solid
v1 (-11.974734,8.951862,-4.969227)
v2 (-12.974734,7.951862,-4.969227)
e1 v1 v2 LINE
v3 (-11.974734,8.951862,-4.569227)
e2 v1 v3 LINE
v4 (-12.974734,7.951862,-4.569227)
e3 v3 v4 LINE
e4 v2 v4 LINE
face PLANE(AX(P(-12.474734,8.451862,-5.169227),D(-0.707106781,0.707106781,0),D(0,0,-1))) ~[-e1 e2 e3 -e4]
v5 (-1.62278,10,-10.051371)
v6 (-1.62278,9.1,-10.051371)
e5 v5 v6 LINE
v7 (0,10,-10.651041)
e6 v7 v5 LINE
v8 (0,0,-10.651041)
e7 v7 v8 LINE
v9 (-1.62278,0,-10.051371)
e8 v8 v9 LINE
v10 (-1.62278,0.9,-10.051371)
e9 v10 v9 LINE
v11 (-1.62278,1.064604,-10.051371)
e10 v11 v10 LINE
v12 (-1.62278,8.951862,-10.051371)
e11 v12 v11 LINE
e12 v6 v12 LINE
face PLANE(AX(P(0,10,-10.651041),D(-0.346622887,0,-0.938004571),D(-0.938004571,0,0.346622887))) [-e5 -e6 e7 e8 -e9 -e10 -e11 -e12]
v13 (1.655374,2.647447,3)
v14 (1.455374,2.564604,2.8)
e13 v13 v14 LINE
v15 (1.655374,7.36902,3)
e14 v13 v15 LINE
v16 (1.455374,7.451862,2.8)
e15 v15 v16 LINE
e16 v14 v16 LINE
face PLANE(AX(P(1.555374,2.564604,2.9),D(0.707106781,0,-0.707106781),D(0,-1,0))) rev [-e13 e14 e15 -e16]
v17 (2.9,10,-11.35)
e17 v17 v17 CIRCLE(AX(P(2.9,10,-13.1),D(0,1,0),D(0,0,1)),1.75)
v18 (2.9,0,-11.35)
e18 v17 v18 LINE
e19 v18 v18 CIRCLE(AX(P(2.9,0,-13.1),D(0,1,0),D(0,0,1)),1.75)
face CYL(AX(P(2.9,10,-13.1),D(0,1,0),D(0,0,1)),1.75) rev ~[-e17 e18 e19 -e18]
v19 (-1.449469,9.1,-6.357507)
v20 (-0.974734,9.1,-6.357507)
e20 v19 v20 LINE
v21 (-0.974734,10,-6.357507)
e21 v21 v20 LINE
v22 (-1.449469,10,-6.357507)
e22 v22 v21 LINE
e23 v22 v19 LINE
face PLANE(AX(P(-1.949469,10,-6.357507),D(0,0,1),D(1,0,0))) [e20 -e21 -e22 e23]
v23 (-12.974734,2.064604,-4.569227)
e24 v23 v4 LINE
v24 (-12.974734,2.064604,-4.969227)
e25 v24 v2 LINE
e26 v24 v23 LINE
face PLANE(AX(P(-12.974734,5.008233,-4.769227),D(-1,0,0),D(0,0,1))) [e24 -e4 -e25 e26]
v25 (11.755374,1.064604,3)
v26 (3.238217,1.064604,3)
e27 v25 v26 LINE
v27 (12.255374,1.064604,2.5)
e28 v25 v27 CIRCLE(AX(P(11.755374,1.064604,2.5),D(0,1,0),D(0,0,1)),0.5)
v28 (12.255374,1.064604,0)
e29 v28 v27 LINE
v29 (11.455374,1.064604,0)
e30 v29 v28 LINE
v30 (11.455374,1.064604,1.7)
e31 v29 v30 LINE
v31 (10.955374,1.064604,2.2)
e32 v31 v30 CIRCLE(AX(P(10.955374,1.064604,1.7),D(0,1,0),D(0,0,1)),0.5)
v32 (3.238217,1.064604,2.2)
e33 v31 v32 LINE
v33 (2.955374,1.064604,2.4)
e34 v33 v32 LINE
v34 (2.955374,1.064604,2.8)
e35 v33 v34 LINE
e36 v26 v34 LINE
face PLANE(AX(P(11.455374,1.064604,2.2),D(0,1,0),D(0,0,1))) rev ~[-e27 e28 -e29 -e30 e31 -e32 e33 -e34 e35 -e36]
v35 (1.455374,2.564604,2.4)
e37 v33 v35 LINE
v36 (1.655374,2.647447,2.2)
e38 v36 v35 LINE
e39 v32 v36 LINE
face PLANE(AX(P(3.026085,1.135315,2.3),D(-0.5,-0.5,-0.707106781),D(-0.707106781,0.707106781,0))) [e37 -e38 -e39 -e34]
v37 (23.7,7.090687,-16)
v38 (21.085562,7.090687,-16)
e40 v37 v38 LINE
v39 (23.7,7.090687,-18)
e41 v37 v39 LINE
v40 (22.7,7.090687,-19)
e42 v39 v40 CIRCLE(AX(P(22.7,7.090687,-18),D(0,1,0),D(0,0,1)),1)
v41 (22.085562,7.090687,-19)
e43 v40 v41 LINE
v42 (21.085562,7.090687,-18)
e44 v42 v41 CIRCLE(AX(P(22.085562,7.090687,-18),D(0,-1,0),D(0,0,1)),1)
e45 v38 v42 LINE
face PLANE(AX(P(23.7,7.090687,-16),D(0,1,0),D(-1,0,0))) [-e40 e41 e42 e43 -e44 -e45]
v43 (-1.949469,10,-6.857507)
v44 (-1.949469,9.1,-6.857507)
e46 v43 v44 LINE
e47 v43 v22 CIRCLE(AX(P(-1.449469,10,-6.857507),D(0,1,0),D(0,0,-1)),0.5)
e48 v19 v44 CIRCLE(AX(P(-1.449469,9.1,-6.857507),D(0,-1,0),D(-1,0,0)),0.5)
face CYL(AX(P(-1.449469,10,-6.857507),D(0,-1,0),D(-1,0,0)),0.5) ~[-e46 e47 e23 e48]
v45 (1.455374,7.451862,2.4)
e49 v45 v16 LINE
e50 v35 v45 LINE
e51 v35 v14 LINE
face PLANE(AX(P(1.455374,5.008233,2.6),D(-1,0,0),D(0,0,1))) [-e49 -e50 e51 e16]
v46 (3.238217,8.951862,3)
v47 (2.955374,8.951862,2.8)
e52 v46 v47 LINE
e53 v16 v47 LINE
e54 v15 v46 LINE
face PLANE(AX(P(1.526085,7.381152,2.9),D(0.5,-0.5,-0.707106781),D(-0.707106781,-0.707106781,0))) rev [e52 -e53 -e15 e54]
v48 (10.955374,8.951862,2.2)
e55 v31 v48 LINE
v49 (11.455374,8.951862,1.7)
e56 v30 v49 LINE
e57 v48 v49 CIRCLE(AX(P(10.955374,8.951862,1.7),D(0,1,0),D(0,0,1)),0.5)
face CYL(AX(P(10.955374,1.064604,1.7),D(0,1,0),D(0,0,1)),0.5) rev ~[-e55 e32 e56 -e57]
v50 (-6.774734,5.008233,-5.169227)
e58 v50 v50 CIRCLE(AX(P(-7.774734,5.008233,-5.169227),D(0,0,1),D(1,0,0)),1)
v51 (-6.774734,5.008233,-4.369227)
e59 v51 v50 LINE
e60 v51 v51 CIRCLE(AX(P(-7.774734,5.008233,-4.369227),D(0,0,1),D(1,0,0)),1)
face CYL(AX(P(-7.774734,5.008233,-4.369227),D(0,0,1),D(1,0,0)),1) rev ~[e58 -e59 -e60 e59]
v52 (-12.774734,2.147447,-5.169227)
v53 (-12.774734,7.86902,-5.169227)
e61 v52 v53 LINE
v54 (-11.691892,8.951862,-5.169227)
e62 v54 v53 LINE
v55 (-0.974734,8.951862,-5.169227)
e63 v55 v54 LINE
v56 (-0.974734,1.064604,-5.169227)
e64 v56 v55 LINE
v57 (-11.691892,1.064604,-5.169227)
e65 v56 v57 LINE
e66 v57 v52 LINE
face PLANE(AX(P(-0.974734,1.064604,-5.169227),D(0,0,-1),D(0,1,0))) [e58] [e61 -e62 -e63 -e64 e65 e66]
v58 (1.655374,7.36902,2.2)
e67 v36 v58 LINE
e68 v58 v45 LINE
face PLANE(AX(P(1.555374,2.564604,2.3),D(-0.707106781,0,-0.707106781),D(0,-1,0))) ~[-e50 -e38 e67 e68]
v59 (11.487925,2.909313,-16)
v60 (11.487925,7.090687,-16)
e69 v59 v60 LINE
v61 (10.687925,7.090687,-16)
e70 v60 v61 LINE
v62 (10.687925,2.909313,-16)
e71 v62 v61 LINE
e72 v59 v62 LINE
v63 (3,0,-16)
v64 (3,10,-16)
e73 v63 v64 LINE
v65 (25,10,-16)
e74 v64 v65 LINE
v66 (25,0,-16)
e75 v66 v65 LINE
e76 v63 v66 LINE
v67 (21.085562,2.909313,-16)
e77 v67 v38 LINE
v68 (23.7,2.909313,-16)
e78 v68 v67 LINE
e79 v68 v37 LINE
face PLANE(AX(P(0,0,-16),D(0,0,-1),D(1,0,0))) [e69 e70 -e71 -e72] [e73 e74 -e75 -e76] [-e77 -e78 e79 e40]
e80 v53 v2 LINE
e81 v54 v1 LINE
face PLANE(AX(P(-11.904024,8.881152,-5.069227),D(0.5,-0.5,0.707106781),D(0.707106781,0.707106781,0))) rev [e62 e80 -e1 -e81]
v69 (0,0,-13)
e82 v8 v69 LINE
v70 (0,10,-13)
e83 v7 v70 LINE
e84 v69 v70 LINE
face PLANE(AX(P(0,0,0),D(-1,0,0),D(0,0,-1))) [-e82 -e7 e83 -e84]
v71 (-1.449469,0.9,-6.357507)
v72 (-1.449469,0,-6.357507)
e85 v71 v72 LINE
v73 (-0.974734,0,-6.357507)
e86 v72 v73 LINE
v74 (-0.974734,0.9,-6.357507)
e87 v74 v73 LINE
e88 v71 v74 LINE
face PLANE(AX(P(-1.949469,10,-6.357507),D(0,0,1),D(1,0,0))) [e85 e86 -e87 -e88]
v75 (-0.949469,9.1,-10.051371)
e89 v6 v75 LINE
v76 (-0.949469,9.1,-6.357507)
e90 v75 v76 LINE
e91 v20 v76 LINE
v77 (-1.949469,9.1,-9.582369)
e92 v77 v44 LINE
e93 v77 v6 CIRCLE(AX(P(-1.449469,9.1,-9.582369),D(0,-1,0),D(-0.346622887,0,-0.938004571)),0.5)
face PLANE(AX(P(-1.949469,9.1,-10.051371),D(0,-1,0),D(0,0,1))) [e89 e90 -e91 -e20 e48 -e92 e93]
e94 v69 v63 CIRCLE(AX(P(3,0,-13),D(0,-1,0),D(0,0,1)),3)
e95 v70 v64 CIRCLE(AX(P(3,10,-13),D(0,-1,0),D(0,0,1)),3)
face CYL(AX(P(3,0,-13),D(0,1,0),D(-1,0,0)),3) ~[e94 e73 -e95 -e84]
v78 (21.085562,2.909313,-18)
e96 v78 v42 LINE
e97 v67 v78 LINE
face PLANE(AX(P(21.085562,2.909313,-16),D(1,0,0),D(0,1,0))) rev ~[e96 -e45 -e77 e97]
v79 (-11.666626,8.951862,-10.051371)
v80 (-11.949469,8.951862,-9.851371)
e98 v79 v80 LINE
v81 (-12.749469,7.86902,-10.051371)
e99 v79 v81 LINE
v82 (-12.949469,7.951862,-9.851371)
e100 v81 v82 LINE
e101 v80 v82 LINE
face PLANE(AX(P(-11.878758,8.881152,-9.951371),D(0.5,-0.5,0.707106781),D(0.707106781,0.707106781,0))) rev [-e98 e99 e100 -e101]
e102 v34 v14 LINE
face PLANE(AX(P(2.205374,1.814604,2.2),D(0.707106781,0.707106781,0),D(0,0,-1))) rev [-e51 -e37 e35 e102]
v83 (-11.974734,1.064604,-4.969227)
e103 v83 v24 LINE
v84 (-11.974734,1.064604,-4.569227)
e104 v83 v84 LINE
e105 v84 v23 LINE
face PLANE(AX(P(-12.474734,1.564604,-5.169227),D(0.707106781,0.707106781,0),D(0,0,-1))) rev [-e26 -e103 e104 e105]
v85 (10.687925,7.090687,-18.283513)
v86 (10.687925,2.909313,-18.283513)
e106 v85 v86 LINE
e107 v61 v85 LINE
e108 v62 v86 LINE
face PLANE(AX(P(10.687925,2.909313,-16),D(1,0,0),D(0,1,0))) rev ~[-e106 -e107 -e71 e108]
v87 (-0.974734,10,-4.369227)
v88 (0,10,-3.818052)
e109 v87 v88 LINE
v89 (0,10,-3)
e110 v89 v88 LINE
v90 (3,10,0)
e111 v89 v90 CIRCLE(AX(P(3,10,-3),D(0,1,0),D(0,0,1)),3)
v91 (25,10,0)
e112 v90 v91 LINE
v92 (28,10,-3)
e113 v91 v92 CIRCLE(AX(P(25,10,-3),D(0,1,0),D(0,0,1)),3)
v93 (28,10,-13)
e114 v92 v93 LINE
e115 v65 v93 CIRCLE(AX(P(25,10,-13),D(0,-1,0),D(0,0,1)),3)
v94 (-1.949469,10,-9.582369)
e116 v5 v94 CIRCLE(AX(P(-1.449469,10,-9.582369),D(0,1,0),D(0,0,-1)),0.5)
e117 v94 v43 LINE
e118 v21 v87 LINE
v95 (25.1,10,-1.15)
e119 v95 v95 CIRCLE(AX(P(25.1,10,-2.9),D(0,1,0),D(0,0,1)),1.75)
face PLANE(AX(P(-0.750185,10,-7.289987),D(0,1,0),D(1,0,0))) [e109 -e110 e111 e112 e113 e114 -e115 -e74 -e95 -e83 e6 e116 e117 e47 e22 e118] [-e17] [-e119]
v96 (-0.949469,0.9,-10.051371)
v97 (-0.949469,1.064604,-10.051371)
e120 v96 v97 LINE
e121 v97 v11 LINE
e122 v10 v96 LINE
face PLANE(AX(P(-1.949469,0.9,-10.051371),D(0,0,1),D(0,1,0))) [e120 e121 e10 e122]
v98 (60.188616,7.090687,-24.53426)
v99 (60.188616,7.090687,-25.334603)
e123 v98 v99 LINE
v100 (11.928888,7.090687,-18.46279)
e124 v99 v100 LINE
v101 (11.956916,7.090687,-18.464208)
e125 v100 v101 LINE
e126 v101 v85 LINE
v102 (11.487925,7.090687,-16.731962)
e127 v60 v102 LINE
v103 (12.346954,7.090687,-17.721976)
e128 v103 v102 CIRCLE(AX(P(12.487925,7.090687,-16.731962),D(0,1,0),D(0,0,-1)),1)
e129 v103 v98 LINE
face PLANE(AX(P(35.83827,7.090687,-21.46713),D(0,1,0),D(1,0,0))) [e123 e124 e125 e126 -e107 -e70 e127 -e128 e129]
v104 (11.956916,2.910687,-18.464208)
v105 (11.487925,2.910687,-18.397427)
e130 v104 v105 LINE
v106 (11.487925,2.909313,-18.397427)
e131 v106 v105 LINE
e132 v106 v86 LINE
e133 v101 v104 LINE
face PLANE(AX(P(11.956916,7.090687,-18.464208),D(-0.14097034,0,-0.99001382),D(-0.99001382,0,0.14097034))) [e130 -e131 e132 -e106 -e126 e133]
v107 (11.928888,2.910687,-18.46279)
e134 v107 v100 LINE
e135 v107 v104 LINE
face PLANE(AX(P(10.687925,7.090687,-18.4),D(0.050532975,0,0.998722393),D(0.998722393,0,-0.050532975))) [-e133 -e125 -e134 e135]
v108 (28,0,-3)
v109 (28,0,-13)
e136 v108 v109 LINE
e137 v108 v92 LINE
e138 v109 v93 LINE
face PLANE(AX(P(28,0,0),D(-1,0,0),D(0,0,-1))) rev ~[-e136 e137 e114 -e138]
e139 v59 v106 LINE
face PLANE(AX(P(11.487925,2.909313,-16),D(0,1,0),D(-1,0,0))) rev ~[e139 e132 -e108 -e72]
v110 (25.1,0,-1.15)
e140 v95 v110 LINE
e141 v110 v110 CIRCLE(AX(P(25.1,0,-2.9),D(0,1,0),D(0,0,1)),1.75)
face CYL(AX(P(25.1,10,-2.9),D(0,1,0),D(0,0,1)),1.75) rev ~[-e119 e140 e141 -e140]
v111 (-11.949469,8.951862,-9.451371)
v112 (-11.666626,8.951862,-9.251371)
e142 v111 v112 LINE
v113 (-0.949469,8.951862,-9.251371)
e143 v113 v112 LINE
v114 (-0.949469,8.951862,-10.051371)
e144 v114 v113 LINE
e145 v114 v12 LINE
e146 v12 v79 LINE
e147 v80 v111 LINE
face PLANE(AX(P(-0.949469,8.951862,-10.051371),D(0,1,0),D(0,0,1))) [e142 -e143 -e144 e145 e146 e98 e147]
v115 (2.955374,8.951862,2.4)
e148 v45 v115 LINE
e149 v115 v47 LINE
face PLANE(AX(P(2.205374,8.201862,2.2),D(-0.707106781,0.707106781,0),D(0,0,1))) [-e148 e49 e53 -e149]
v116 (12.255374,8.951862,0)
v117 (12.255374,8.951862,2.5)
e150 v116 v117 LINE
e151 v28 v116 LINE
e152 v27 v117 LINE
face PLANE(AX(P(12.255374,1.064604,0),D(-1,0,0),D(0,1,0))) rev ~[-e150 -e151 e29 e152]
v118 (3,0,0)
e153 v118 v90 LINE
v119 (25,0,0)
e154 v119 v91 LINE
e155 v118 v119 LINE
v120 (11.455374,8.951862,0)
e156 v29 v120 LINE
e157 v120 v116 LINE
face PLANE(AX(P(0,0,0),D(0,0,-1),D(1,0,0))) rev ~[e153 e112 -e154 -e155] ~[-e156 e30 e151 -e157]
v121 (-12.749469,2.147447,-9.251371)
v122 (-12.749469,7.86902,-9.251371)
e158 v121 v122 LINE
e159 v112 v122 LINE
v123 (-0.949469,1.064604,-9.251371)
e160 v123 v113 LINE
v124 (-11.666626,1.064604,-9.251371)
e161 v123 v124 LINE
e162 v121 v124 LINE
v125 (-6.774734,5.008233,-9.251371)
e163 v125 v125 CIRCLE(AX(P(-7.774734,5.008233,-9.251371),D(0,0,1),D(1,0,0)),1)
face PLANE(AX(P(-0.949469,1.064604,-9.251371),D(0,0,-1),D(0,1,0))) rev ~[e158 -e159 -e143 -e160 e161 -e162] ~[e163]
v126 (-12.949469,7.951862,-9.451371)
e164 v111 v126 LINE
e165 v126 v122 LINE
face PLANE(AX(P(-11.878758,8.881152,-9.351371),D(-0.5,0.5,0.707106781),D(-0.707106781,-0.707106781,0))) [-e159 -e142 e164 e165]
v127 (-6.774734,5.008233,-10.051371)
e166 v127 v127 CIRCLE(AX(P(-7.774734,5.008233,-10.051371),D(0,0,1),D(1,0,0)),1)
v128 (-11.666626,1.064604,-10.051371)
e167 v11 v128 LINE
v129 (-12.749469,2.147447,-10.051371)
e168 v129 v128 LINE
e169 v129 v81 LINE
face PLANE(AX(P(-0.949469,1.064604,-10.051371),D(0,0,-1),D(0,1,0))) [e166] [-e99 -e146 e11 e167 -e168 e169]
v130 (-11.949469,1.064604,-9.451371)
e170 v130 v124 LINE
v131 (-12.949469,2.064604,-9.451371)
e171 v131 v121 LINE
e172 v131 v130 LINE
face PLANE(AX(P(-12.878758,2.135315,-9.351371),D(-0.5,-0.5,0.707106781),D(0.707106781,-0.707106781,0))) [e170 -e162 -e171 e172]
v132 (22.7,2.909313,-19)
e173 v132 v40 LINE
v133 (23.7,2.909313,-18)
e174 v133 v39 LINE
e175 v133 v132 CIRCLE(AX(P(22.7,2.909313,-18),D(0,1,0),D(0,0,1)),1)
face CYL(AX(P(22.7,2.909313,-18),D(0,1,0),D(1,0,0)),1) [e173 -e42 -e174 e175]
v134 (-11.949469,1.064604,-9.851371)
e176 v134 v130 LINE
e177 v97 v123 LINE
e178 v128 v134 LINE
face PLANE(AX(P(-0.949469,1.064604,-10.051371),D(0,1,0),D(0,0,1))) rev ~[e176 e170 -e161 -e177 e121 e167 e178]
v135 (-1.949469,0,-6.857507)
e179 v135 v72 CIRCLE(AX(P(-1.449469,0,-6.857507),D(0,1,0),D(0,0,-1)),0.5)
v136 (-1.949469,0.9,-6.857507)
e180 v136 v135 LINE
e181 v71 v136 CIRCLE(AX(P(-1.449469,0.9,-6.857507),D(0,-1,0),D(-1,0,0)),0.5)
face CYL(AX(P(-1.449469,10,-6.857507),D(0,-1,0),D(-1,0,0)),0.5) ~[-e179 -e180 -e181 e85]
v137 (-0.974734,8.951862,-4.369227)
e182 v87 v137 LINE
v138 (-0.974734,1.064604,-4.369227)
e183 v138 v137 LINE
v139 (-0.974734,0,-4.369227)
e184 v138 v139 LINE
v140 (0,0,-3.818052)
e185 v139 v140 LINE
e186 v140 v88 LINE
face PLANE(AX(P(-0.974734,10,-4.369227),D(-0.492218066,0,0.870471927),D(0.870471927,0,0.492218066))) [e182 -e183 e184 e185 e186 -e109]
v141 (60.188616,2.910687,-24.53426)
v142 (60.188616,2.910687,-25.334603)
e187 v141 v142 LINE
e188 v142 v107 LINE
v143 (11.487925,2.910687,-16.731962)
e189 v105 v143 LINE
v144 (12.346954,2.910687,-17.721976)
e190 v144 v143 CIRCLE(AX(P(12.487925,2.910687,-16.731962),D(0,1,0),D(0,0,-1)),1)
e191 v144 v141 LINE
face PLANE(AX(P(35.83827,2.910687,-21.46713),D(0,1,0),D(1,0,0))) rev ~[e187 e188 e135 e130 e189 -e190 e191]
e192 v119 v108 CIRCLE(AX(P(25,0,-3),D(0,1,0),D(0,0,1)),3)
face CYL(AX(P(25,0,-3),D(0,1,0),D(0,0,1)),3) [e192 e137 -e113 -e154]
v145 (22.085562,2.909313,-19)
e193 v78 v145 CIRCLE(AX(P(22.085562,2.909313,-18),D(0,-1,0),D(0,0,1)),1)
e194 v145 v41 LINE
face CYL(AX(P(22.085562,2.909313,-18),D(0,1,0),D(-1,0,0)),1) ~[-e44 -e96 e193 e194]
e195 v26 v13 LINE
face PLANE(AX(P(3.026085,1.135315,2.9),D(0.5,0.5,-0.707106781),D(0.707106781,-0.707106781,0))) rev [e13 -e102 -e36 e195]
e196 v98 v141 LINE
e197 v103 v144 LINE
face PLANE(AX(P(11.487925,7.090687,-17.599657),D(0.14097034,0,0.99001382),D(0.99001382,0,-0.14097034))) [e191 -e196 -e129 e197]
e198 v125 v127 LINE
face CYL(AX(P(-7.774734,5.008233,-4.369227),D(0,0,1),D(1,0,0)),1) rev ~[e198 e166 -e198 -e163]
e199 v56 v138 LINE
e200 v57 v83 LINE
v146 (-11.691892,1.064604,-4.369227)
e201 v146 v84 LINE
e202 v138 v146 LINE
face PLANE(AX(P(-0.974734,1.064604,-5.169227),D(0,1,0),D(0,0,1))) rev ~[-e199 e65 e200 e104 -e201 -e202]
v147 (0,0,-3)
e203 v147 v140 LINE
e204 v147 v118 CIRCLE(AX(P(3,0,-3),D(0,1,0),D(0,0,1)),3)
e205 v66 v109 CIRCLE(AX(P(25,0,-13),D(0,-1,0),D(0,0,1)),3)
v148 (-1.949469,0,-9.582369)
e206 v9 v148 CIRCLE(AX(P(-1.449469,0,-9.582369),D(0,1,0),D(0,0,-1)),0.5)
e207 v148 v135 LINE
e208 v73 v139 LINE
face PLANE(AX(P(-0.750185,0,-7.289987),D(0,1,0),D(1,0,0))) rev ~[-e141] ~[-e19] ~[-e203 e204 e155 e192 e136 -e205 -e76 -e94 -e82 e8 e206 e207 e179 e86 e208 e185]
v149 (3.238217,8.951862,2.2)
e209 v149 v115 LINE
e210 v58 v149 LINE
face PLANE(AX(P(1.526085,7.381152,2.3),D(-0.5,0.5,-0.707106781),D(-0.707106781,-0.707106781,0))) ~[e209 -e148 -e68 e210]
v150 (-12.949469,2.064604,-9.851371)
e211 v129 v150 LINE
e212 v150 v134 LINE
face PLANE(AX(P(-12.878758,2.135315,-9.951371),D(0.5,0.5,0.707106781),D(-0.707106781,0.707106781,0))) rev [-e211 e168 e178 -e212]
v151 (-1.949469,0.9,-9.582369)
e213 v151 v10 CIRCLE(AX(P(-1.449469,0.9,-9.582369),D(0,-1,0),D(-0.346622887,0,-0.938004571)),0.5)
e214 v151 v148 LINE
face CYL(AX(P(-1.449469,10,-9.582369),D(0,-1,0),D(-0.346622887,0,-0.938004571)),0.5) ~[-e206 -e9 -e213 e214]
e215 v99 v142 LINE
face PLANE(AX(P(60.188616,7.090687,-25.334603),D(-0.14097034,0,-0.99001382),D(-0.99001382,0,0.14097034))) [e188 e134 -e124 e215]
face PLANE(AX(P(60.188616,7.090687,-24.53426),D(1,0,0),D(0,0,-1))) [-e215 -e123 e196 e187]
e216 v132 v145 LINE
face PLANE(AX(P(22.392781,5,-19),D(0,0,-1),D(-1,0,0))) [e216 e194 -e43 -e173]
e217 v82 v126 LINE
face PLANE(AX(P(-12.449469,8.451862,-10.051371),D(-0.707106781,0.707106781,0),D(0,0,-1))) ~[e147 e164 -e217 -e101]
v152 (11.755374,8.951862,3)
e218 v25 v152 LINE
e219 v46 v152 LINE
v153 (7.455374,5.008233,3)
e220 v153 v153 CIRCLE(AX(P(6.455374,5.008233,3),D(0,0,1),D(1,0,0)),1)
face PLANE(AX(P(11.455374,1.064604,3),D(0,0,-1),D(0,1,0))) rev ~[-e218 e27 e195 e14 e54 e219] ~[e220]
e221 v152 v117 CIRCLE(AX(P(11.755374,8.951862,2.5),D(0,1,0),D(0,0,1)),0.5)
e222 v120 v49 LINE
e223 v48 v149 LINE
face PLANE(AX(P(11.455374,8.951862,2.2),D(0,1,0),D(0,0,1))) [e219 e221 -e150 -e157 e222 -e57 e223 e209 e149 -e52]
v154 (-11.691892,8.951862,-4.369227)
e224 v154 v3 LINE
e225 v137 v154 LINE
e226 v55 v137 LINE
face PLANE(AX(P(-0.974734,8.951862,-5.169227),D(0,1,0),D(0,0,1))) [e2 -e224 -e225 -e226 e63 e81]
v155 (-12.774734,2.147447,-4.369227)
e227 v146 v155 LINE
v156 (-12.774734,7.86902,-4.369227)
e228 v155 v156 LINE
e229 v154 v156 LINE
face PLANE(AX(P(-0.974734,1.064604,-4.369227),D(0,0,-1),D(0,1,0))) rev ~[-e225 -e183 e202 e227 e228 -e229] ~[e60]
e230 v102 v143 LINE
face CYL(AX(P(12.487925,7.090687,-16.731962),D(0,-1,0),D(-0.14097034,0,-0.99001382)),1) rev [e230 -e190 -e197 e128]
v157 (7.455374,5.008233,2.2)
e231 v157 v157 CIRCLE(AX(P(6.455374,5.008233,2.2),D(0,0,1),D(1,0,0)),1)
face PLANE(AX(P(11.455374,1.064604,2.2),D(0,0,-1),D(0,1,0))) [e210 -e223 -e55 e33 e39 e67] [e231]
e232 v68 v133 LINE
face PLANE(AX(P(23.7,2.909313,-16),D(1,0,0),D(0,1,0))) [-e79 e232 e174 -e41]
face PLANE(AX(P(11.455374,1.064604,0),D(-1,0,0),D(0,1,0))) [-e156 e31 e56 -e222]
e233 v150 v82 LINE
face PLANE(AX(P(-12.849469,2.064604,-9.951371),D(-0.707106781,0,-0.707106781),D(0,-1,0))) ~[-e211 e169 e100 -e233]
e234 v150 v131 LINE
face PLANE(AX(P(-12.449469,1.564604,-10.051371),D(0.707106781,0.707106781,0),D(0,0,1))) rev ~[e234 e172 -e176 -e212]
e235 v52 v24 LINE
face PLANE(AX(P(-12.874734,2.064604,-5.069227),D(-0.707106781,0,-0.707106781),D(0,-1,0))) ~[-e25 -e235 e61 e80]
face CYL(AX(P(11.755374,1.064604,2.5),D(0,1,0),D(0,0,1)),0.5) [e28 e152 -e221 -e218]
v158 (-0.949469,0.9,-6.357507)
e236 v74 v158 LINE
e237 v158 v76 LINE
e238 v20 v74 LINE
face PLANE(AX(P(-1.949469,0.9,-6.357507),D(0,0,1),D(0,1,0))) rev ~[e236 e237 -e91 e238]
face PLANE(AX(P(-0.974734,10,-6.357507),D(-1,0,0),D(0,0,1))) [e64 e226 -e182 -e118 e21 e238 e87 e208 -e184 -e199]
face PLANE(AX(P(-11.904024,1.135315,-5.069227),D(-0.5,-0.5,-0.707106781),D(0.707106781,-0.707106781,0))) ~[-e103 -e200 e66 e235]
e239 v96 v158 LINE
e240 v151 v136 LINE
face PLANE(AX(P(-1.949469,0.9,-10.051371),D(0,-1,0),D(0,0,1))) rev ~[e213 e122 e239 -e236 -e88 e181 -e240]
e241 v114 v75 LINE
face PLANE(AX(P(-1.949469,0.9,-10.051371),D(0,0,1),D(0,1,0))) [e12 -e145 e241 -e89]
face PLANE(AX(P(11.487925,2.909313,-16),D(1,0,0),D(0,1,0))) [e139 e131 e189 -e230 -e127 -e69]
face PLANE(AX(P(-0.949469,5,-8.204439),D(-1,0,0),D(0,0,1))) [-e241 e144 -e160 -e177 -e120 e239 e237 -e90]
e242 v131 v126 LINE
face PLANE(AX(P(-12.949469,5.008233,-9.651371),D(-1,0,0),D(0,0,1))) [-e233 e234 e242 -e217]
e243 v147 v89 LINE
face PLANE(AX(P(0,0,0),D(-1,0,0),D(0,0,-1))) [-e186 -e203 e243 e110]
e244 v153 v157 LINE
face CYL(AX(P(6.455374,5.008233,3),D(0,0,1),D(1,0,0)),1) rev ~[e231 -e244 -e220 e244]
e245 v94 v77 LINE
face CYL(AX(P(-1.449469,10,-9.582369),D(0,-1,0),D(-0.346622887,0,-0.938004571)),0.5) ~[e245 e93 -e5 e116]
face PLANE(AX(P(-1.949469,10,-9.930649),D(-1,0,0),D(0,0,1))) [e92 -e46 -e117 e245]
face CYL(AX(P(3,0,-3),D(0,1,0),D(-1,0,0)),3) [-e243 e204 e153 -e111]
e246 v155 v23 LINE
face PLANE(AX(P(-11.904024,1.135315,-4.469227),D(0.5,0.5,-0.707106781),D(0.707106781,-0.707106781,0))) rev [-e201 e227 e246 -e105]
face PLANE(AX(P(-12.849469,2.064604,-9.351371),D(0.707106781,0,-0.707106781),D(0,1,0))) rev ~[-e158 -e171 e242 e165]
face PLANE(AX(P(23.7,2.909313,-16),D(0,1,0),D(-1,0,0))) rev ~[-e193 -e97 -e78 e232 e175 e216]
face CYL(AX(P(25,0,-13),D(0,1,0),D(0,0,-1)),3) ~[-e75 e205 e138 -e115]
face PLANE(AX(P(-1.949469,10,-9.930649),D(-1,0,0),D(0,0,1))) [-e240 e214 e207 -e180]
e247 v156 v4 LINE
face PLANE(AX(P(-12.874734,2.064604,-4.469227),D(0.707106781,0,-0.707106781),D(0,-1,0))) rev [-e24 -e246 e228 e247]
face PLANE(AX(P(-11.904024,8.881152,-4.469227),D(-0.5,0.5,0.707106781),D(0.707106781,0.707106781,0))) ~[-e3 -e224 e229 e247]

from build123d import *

# Parameters (mm, degrees)
SKETCH1_W            = 28
SKETCH1_H            = 16
BOSS_EXTRUDE1_DEPTH  = 10
SKETCH3_R            = 1.75
CUT_EXTRUDE1_DEPTH   = 10
FILLET5_R            = 3
FILLET6_R            = 3
BOSS_EXTRUDE3_DEPTH  = 10
FILLET7_R            = 0.5
FILLET8_R            = 0.5
SKETCH5_W            = 3.693864044
SKETCH5_H            = 8.2
CUT_EXTRUDE2_DEPTH   = 1
SKETCH7_W            = 0.8
SKETCH7_H            = 7.887258378
BOSS_EXTRUDE5_DEPTH  = 12
SKETCH8_W            = 0.8
SKETCH8_H            = 7.887258378
BOSS_EXTRUDE6_DEPTH  = 12
CHAMFER1_SIZE        = 1
CHAMFER3_SIZE        = 0.2
SKETCH10_R           = 1
CUT_EXTRUDE3_DEPTH   = 8
SKETCH11_W           = 0.8
SKETCH11_H           = 7.887258378
BOSS_EXTRUDE7_DEPTH  = 3
SKETCH12_W           = 0.8
SKETCH12_H           = 7.887258378
BOSS_EXTRUDE8_DEPTH  = 10
FILLET9_R            = 0.5
FILLET10_R           = 0.5
CHAMFER4_SIZE        = 1.5
CHAMFER5_SIZE        = 0.2
SKETCH13_R           = 1
CUT_EXTRUDE4_DEPTH   = 1
SKETCH14_W           = 2.614438376
SKETCH14_H           = 4.181373928
BOSS_EXTRUDE10_DEPTH = 3
FILLET12_R           = 1
SKETCH17_W           = 0.8
SKETCH17_H           = 4.181373928
BOSS_EXTRUDE11_DEPTH = 2.4
BOSS_EXTRUDE12_DEPTH = 4.18
CUT_EXTRUDE9_DEPTH   = 5
FILLET14_R           = 1


with BuildPart() as part:
    # Sketch1 → Boss-Extrude1 (new body)
    with BuildSketch(Plane(origin=(0, 0, 0), x_dir=(1, 0, 0), z_dir=(0, 1, 0))):
        with Locations((14, 8)):
            Rectangle(SKETCH1_W, SKETCH1_H)
    extrude(amount=BOSS_EXTRUDE1_DEPTH)

    # Sketch3 → Cut-Extrude1 (cut)
    with BuildSketch(Plane(origin=(0, 10, 0), x_dir=(1, 0, 0), z_dir=(0, 1, 0))):
        with Locations(Location((2.9, 13.1, 0), (0, 0, 270))):
            Circle(SKETCH3_R)
        with Locations(Location((25.1, 2.9, 0), (0, 0, 270))):
            Circle(SKETCH3_R)
    extrude(amount=-CUT_EXTRUDE1_DEPTH, mode=Mode.SUBTRACT)

    # Fillet5
    fillet5_edges = [part.edges().sort_by_distance(p)[0] for p in [
        (0, 5, -16),
        (28, 5, 0),
    ]]
    fillet(fillet5_edges, radius=FILLET5_R)

    # Fillet6
    fillet6_edges = [part.edges().sort_by_distance(p)[0] for p in [
        (28, 5, -16),
        (0, 5, 0),
    ]]
    fillet(fillet6_edges, radius=FILLET6_R)

    # Sketch4 → Boss-Extrude3 (add)
    with BuildSketch(Plane(origin=(0, 10, 0), x_dir=(1, 0, 0), z_dir=(0, 1, 0))):
        Polygon((0, 10.651040916), (-1.949468991, 9.930649363), (-1.949468991, 6.357507258), (-0.974734495, 6.357507258), (-0.974734495, 4.369226571), (0.098482911, 3.762363811), align=None)
    extrude(amount=-BOSS_EXTRUDE3_DEPTH)

    # Fillet7
    fillet7_edges = [part.edges().sort_by_distance(p)[0] for p in [
        (-1.949468991, 5, -9.930649363),
    ]]
    fillet(fillet7_edges, radius=FILLET7_R)

    # Fillet8
    fillet8_edges = [part.edges().sort_by_distance(p)[0] for p in [
        (-1.949468991, 5, -6.357507258),
    ]]
    fillet(fillet8_edges, radius=FILLET8_R)

    # Sketch5 → Cut-Extrude2 (cut)
    with BuildSketch(Plane.ZY.offset(1.949468991)):
        with Locations((-8.20443928, 5)):
            Rectangle(SKETCH5_W, SKETCH5_H)
    extrude(amount=-CUT_EXTRUDE2_DEPTH, mode=Mode.SUBTRACT)

    # Sketch7 → Boss-Extrude5 (add)
    with BuildSketch(Plane.ZY.offset(0.949468991)):
        with Locations((-9.651371302, 5.008233046)):
            Rectangle(SKETCH7_W, SKETCH7_H)
    extrude(amount=BOSS_EXTRUDE5_DEPTH)

    # Sketch8 → Boss-Extrude6 (add)
    with BuildSketch(Plane.ZY.offset(0.974734495)):
        with Locations((-4.769226571, 5.008233046)):
            Rectangle(SKETCH8_W, SKETCH8_H)
    extrude(amount=BOSS_EXTRUDE6_DEPTH)

    # Chamfer1
    chamfer1_edges = [part.edges().sort_by_distance(p)[0] for p in [
        (-12.949468991, 1.064603857, -9.651371302),
        (-12.949468991, 8.951862235, -9.651371302),
        (-12.974734495, 8.951862235, -4.769226571),
        (-12.974734495, 1.064603857, -4.769226571),
    ]]
    chamfer(chamfer1_edges, length=CHAMFER1_SIZE)

    # Chamfer3
    chamfer3_edges = [part.edges().sort_by_distance(p)[0] for p in [
        (-12.949468991, 5.008233046, -10.051371302),
        (-12.949468991, 5.008233046, -9.251371302),
        (-12.449468991, 8.451862235, -9.251371302),
        (-12.449468991, 1.564603857, -9.251371302),
        (-12.449468991, 8.451862235, -10.051371302),
        (-12.449468991, 1.564603857, -10.051371302),
        (-12.974734495, 5.008233046, -4.369226571),
        (-12.974734495, 5.008233046, -5.169226571),
        (-12.474734495, 8.451862235, -4.369226571),
        (-12.474734495, 1.564603857, -4.369226571),
        (-12.474734495, 8.451862235, -5.169226571),
        (-12.474734495, 1.564603857, -5.169226571),
    ]]
    chamfer(chamfer3_edges, length=CHAMFER3_SIZE)

    # Sketch10 → Cut-Extrude3 (cut)
    with BuildSketch(Plane.XY.offset(-4.369226571)):
        with Locations((-7.774734495, 5.008233046)):
            Circle(SKETCH10_R)
    extrude(amount=-CUT_EXTRUDE3_DEPTH, mode=Mode.SUBTRACT)

    # Sketch11 → Boss-Extrude7 (add)
    with BuildSketch(Plane.XY):
        with Locations((11.855374497, 5.008233046)):
            Rectangle(SKETCH11_W, SKETCH11_H)
    extrude(amount=BOSS_EXTRUDE7_DEPTH)

    # Sketch12 → Boss-Extrude8 (add)
    with BuildSketch(Plane.ZY.offset(-11.455374497)):
        with Locations((2.6, 5.008233046)):
            Rectangle(SKETCH12_W, SKETCH12_H)
    extrude(amount=BOSS_EXTRUDE8_DEPTH)

    # Fillet9
    fillet9_edges = [part.edges().sort_by_distance(p)[0] for p in [
        (11.455374497, 5.008233046, 2.2),
    ]]
    fillet(fillet9_edges, radius=FILLET9_R)

    # Fillet10
    fillet10_edges = [part.edges().sort_by_distance(p)[0] for p in [
        (12.255374497, 5.008233046, 3),
    ]]
    fillet(fillet10_edges, radius=FILLET10_R)

    # Chamfer4
    chamfer4_edges = [part.edges().sort_by_distance(p)[0] for p in [
        (1.455374497, 8.951862235, 2.6),
        (1.455374497, 1.064603857, 2.6),
    ]]
    chamfer(chamfer4_edges, length=CHAMFER4_SIZE)

    # Chamfer5
    chamfer5_edges = [part.edges().sort_by_distance(p)[0] for p in [
        (1.455374497, 5.008233046, 3),
        (1.455374497, 5.008233046, 2.2),
        (2.205374497, 8.201862235, 3),
        (2.205374497, 1.814603857, 3),
        (2.205374497, 8.201862235, 2.2),
        (2.205374497, 1.814603857, 2.2),
    ]]
    chamfer(chamfer5_edges, length=CHAMFER5_SIZE)

    # Sketch13 → Cut-Extrude4 (cut)
    with BuildSketch(Plane.XY.offset(3)):
        with Locations((6.455374497, 5.008233046)):
            Circle(SKETCH13_R)
    extrude(amount=-CUT_EXTRUDE4_DEPTH, mode=Mode.SUBTRACT)

    # Sketch14 → Boss-Extrude10 (add)
    with BuildSketch(Plane(origin=(0, 0, -16), x_dir=(-1, 0, 0), z_dir=(0, 0, -1))):
        with Locations((-22.392780812, 5)):
            Rectangle(SKETCH14_W, SKETCH14_H)
    extrude(amount=BOSS_EXTRUDE10_DEPTH)

    # Fillet12
    fillet12_edges = [part.edges().sort_by_distance(p)[0] for p in [
        (23.7, 5, -19),
        (21.085561624, 5, -19),
    ]]
    fillet(fillet12_edges, radius=FILLET12_R)

    # Sketch17 → Boss-Extrude11 (add)
    with BuildSketch(Plane(origin=(0, 0, -16), x_dir=(-1, 0, 0), z_dir=(0, 0, -1))):
        with Locations((-11.087924536, 5)):
            Rectangle(SKETCH17_W, SKETCH17_H)
    extrude(amount=BOSS_EXTRUDE11_DEPTH)

    # Sketch18 → Boss-Extrude12 (add)
    with BuildSketch(Plane(origin=(0, 7.090686964, 0), x_dir=(1, 0, 0), z_dir=(0, 1, 0))):
        Polygon((60.18861552, 25.33460318), (11.487924536, 18.4), (11.487924536, 17.599656508), (60.18861552, 24.534259688), align=None)
    extrude(amount=-BOSS_EXTRUDE12_DEPTH)

    # Sketch20 → Cut-Extrude9 (cut)
    with BuildSketch(Plane(origin=(0, 7.090686964, 0), x_dir=(1, 0, 0), z_dir=(0, 1, 0))):
        Polygon((11.956915688, 18.464207931), (10.687924536, 18.283513368), (10.687924536, 18.4), align=None)
    extrude(amount=-CUT_EXTRUDE9_DEPTH, mode=Mode.SUBTRACT)

    # Fillet14
    fillet14_edges = [part.edges().sort_by_distance(p)[0] for p in [
        (11.487924536, 5.000686964, -17.599656508),
    ]]
    fillet(fillet14_edges, radius=FILLET14_R)


solid = part.part
